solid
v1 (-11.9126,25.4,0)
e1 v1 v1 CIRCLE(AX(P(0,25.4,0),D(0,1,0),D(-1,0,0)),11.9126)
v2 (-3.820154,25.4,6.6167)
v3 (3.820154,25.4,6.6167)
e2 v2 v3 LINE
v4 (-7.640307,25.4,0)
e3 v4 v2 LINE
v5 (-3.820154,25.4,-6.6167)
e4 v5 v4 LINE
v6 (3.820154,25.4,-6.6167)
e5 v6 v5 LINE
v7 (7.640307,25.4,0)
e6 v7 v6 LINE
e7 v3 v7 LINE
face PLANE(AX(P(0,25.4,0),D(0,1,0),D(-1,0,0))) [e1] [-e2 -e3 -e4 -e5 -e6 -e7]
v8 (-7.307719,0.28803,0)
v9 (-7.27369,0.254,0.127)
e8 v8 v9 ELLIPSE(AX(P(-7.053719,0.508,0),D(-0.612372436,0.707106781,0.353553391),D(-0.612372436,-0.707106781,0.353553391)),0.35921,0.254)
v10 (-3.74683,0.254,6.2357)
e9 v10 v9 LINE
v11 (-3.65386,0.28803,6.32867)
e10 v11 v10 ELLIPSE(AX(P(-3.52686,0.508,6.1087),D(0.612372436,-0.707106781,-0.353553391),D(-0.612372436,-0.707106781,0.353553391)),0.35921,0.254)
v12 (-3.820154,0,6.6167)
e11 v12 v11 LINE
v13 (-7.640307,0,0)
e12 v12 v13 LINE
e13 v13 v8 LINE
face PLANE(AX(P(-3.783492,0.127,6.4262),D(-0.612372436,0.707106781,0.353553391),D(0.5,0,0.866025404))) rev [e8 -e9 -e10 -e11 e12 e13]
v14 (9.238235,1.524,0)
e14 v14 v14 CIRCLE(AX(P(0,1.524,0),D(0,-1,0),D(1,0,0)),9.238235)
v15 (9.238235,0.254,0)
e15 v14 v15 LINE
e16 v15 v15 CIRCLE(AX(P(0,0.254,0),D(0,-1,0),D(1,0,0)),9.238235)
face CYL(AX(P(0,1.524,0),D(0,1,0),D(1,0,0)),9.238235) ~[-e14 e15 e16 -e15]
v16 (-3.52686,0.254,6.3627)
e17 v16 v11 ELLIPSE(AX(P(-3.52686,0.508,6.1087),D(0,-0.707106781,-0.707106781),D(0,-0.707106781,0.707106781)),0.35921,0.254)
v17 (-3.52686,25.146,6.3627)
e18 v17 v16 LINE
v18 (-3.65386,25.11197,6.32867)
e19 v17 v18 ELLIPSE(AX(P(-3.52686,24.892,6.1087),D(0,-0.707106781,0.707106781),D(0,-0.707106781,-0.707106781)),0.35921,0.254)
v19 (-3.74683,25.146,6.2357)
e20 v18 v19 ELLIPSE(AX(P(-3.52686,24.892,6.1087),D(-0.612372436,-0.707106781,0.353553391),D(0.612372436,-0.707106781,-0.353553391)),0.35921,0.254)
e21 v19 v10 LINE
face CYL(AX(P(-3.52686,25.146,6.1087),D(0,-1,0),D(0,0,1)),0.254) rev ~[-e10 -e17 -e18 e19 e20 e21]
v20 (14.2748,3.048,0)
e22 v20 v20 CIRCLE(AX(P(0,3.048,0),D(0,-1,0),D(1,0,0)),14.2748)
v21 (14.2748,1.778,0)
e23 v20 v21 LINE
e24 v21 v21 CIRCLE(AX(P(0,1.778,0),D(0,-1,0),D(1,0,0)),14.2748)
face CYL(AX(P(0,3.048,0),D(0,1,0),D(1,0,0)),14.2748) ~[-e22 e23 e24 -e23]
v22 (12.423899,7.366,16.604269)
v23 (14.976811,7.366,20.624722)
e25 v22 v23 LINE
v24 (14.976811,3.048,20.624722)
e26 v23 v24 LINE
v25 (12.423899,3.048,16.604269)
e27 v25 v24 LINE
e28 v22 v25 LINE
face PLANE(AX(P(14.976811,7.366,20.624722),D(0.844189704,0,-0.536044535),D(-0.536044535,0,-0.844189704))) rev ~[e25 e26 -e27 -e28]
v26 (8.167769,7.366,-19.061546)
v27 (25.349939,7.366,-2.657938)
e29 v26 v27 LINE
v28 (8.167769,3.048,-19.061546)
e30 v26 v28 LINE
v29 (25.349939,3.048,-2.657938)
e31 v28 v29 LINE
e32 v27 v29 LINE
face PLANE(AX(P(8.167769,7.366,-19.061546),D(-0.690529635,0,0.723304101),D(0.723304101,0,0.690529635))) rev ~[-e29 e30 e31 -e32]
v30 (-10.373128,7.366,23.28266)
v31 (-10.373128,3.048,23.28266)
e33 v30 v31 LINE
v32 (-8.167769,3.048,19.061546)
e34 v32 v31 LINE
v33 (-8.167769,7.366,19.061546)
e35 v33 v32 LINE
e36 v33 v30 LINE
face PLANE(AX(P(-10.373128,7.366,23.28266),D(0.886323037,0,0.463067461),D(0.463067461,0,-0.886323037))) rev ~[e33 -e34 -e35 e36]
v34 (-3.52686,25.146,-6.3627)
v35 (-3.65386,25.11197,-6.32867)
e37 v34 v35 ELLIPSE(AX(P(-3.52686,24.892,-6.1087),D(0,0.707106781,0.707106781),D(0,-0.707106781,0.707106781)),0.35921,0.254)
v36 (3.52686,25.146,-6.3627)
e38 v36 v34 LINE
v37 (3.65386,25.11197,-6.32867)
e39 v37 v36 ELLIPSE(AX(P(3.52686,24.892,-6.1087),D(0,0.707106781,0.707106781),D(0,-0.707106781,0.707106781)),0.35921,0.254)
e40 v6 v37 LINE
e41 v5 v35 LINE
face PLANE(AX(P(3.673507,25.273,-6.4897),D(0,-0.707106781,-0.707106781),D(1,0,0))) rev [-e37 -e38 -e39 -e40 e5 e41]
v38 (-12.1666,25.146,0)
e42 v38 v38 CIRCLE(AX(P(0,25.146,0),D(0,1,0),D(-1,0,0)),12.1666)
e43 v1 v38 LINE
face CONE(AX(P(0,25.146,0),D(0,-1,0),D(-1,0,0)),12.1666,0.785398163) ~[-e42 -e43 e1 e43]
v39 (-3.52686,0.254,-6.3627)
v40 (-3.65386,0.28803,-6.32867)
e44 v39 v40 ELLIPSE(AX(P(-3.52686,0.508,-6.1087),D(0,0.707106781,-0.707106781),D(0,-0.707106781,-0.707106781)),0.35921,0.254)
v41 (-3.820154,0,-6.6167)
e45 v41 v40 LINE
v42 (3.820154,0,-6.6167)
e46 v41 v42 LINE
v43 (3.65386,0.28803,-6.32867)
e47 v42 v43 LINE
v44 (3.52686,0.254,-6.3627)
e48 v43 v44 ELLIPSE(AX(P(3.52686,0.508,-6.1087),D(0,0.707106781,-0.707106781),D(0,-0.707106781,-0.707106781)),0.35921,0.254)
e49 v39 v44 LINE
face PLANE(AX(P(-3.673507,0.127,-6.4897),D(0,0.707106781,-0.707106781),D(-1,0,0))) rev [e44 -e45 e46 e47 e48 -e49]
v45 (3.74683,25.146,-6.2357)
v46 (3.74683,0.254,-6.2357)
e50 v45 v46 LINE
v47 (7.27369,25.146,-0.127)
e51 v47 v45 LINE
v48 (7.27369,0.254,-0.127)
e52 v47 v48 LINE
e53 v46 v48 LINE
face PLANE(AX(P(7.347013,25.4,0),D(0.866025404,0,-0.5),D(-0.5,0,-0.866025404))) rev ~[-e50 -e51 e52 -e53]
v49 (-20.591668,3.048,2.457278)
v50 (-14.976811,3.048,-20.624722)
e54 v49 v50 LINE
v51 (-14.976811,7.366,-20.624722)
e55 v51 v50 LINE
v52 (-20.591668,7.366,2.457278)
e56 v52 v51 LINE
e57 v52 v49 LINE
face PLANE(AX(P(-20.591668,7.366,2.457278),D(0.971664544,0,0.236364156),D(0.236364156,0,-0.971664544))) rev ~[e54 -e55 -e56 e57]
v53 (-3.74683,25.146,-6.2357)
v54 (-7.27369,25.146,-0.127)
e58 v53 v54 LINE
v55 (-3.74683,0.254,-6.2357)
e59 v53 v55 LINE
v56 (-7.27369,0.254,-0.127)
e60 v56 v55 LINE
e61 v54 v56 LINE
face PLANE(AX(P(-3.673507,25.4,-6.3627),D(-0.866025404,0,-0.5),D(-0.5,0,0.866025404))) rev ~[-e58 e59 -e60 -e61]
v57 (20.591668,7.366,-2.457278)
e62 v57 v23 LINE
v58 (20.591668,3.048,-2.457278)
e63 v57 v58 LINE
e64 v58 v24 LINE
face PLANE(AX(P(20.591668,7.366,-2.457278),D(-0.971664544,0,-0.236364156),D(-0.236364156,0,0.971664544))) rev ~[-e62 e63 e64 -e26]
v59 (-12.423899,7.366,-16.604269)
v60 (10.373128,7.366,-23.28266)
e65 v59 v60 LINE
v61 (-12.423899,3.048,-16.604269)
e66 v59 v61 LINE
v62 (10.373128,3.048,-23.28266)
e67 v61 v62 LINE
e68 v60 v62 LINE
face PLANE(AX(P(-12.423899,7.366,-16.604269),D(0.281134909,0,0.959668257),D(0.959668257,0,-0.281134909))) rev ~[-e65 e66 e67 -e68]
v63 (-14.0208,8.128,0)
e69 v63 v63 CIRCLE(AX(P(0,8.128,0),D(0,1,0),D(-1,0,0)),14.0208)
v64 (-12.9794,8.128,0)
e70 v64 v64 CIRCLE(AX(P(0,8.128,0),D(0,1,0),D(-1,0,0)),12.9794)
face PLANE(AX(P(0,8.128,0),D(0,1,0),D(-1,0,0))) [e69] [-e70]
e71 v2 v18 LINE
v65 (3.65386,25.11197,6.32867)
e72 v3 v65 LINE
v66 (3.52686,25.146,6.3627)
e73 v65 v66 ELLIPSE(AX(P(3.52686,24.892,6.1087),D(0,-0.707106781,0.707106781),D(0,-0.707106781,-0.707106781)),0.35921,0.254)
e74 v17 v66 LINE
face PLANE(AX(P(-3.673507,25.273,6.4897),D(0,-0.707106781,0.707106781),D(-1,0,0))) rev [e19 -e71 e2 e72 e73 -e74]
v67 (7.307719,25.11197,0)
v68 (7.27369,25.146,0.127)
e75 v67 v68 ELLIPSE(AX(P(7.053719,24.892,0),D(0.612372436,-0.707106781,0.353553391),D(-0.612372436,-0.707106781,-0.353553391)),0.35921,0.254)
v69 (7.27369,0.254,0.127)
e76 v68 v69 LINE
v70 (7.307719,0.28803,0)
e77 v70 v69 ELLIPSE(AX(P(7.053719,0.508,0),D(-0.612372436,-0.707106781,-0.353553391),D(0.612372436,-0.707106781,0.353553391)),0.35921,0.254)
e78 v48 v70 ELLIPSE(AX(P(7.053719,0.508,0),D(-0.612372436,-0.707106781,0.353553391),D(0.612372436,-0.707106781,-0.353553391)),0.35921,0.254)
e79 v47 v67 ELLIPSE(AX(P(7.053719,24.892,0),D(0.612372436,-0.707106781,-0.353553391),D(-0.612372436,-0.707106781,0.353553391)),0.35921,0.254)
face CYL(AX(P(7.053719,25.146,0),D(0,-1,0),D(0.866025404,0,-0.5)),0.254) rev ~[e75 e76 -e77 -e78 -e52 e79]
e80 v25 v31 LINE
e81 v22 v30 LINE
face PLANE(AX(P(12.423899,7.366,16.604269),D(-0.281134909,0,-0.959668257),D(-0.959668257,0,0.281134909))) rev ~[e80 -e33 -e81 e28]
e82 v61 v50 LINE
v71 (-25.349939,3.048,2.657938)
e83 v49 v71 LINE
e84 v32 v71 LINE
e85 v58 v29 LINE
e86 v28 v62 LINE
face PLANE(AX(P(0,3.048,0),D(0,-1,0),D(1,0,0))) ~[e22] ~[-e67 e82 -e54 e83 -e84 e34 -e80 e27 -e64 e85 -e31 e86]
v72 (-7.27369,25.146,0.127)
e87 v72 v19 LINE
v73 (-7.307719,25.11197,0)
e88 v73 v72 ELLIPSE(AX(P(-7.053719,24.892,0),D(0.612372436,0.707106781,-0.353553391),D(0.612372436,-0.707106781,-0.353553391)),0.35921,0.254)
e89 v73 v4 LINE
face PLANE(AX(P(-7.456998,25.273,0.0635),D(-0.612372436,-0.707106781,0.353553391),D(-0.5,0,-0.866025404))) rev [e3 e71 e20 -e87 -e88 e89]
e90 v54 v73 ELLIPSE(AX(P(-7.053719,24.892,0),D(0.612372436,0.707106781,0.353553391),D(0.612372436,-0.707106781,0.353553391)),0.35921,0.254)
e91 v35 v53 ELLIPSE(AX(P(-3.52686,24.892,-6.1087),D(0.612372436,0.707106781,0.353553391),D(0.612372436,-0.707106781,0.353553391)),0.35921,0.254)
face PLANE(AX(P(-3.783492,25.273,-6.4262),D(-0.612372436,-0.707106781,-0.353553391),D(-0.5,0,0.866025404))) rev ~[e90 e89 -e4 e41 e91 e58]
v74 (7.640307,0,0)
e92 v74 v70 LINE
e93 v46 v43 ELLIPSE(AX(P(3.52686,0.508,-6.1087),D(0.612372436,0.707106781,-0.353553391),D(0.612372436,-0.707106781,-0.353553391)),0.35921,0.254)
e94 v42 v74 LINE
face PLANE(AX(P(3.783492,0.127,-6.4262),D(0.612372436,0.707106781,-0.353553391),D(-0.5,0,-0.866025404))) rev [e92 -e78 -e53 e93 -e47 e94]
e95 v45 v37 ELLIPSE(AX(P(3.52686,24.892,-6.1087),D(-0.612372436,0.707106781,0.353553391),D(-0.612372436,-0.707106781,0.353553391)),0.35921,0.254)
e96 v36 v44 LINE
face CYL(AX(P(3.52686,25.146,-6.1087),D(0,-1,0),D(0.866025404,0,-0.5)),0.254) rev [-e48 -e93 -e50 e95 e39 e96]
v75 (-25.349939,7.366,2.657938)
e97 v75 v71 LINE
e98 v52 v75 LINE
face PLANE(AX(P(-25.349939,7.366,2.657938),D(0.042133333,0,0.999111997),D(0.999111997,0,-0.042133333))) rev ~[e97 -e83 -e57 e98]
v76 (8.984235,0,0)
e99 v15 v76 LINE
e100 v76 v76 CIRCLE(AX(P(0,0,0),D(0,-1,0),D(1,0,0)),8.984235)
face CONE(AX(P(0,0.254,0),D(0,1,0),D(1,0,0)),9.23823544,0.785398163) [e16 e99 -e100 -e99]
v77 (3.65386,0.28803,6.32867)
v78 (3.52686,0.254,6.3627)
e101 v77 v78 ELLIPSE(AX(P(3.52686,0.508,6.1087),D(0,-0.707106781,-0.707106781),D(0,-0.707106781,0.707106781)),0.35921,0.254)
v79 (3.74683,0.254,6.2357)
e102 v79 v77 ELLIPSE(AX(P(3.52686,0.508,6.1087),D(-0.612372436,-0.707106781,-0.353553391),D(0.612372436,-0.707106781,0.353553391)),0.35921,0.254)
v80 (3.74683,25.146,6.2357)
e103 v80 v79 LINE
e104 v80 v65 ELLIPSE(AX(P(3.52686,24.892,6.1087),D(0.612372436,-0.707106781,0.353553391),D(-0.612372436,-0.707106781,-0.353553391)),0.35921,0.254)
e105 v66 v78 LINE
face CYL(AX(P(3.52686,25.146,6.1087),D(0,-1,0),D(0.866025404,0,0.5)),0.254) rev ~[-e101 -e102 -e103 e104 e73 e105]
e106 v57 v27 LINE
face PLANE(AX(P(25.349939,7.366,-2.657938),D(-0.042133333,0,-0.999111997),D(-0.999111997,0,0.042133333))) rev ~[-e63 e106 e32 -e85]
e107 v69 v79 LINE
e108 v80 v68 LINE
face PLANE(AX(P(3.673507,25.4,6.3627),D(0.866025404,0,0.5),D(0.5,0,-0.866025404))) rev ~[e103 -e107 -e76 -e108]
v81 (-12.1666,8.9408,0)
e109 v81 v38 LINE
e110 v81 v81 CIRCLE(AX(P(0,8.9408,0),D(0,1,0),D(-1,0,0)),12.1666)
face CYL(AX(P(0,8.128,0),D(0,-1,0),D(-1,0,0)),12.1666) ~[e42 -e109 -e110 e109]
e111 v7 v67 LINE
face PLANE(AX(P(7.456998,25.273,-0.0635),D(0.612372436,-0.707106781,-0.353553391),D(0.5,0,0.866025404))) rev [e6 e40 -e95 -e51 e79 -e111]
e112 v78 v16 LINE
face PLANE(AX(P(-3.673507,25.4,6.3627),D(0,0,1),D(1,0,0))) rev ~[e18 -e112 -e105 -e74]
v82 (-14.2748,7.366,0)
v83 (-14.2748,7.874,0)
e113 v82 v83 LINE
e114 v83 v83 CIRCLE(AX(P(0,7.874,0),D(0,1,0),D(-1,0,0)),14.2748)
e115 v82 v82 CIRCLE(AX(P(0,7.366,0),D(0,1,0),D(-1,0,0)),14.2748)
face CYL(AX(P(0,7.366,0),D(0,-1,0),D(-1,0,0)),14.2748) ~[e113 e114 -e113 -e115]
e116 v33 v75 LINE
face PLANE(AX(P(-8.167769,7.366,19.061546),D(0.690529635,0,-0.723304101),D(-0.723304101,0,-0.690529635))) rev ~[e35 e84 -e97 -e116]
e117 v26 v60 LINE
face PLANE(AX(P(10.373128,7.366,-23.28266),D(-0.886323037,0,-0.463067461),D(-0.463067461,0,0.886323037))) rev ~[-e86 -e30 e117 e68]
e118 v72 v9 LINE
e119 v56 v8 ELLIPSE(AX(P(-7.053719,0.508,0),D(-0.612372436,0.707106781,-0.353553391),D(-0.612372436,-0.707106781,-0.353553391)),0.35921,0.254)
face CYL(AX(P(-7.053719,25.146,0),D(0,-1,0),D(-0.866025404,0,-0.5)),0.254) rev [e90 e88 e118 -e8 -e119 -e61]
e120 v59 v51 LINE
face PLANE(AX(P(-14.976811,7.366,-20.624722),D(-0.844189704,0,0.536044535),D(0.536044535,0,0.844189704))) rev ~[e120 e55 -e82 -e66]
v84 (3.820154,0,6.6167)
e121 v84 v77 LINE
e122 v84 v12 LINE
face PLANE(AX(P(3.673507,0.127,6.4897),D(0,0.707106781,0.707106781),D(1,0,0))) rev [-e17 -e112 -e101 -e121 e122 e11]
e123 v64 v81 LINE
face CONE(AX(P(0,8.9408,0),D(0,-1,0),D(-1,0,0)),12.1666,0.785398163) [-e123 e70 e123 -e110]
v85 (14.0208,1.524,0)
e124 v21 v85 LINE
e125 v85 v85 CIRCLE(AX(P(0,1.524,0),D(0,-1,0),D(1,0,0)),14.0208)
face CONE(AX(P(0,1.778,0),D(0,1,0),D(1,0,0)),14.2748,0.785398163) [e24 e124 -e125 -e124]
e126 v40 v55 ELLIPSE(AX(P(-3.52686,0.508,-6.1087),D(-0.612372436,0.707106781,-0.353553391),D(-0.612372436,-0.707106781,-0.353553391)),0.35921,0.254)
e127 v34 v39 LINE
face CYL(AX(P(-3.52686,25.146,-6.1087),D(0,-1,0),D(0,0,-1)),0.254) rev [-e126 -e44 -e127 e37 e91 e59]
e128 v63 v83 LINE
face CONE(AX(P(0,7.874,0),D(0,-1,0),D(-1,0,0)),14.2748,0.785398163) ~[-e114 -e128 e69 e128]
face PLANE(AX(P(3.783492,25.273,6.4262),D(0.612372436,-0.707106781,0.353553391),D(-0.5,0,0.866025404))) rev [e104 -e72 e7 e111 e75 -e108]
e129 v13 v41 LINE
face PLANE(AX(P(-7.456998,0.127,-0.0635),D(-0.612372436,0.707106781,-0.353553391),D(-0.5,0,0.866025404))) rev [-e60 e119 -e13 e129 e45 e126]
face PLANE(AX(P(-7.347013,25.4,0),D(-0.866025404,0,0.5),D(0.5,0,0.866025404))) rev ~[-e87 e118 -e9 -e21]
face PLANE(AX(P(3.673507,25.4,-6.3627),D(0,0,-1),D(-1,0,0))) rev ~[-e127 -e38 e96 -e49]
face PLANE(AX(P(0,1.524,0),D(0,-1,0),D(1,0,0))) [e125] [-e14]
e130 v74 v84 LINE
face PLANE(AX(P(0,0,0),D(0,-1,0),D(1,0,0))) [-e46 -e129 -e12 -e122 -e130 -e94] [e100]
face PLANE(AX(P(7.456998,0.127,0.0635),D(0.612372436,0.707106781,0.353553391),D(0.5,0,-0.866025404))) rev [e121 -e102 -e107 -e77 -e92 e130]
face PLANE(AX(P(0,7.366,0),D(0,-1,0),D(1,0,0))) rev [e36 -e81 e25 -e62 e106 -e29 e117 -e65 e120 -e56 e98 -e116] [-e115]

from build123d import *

# Parameters (mm, degrees)
SKETCH1_W           = 27.7876
SKETCH1_H           = 4.318
CUT_EXTRUDE1_DEPTH  = 5.318
CUT_EXTRUDE2_DEPTH  = 5.318
CUT_EXTRUDE3_DEPTH  = 5.318
CUT_EXTRUDE4_DEPTH  = 5.318
CUT_EXTRUDE5_DEPTH  = 5.318
CUT_EXTRUDE6_DEPTH  = 5.318
CUT_EXTRUDE7_DEPTH  = 5.318
CUT_EXTRUDE8_DEPTH  = 5.318
CUT_EXTRUDE9_DEPTH  = 5.318
CUT_EXTRUDE10_DEPTH = 5.318
CUT_EXTRUDE11_DEPTH = 5.318
CUT_EXTRUDE12_DEPTH = 5.318
SKETCH14_R          = 14.2748
BOSS_EXTRUDE1_DEPTH = 1.524
SKETCH15_R          = 9.23823544
BOSS_EXTRUDE2_DEPTH = 1.524
SKETCH16_R          = 14.2748
BOSS_EXTRUDE3_DEPTH = 0.762
SKETCH17_R          = 12.1666
BOSS_EXTRUDE4_DEPTH = 17.272
CUT_EXTRUDE13_DEPTH = 26.4
SKETCH19_W          = 2.5908
SKETCH19_H          = 4.318
SKETCH20_W          = 2.5908
SKETCH20_H          = 4.318
SKETCH21_W          = 2.5908
SKETCH21_H          = 4.318
SKETCH22_W          = 2.5908
SKETCH22_H          = 4.318
SKETCH23_W          = 2.5908
SKETCH23_H          = 4.318
SKETCH24_W          = 2.5908
SKETCH24_H          = 4.318
CHAMFER1_SIZE       = 0.254
CHAMFER2_SIZE       = 0.8128
FILLET1_R           = 0.254
FILLET2_R           = 0.7874
FILLET3_R           = 1.27
SKETCH25_R          = 28.050561638
SKETCH25_R_2        = 25.4889
CUT_EXTRUDE14_DEPTH = 8.366
CUT_EXTRUDE15_DEPTH = 8.366


with BuildPart() as part:
    # Sketch1 → Revolve1 (revolve)
    with BuildSketch(Plane.XY):
        with Locations((13.8938, 5.207)):
            Rectangle(SKETCH1_W, SKETCH1_H)
    revolve(axis=Axis((0, 7.366, 0), (0, -1, 0)))

    # Sketch2 → Cut-Extrude1 (cut, through all)
    with BuildSketch(Plane(origin=(0, 7.366, 0), x_dir=(-1, 0, 0), z_dir=(0, 1, 0))):
        with BuildLine():
            Line((27.742216161, 1.5875), (25.859959008, 1.5875))
            ThreePointArc((25.859959008, 1.5875), (26.4033, 0), (25.859959008, -1.5875))
            Line((25.859959008, -1.5875), (27.742216161, -1.5875))
            ThreePointArc((27.742216161, -1.5875), (27.7876, 0), (27.742216161, 1.5875))
        make_face()
    extrude(amount=-CUT_EXTRUDE1_DEPTH, mode=Mode.SUBTRACT)

    # Sketch3 → Cut-Extrude2 (cut, through all)
    with BuildSketch(Plane(origin=(0, 7.366, 0), x_dir=(-1, 0, 0), z_dir=(0, 1, 0))):
        with BuildLine():
            ThreePointArc((27.521980347, -3.832924674), (26.332306318, -4.701290474), (24.95050128, -5.211190755))
            ThreePointArc((24.95050128, -5.211190755), (22.074034915, -12.74445), (16.988274218, -19.002172568))
            ThreePointArc((16.988274218, -19.002172568), (17.23759014, -20.453800974), (17.080400312, -21.918271806))
            ThreePointArc((17.080400312, -21.918271806), (24.06476751, -13.8938), (27.521980347, -3.832924674))
        make_face()
    extrude(amount=-CUT_EXTRUDE2_DEPTH, mode=Mode.SUBTRACT)

    # Sketch4 → Cut-Extrude3 (cut, through all)
    with BuildSketch(Plane(origin=(0, 7.366, 0), x_dir=(-1, 0, 0), z_dir=(0, 1, 0))):
        with BuildLine():
            Line((15.245923409, -23.231713952), (14.304794833, -21.601631442))
            ThreePointArc((14.304794833, -21.601631442), (13.20165, -22.865928544), (11.555164176, -23.189131442))
            Line((11.555164176, -23.189131442), (12.496292752, -24.819213952))
            ThreePointArc((12.496292752, -24.819213952), (13.8938, -24.06476751), (15.245923409, -23.231713952))
        make_face()
    extrude(amount=-CUT_EXTRUDE3_DEPTH, mode=Mode.SUBTRACT)

    # Sketch5 → Cut-Extrude4 (cut, through all)
    with BuildSketch(Plane(origin=(0, 7.366, 0), x_dir=(-1, 0, 0), z_dir=(0, 1, 0))):
        with BuildLine():
            ThreePointArc((10.441580035, -25.75119648), (9.094716178, -25.155091448), (7.962227062, -24.213363323))
            ThreePointArc((7.962227062, -24.213363323), (0, -25.4889), (-7.962227062, -24.213363323))
            ThreePointArc((-7.962227062, -24.213363323), (-9.094716178, -25.155091448), (-10.441580035, -25.75119648))
            ThreePointArc((-10.441580035, -25.75119648), (0, -27.7876), (10.441580035, -25.75119648))
        make_face()
    extrude(amount=-CUT_EXTRUDE4_DEPTH, mode=Mode.SUBTRACT)

    # Sketch6 → Cut-Extrude5 (cut, through all)
    with BuildSketch(Plane(origin=(0, 7.366, 0), x_dir=(-1, 0, 0), z_dir=(0, 1, 0))):
        with BuildLine():
            Line((-12.496292752, -24.819213952), (-11.555164176, -23.189131442))
            ThreePointArc((-11.555164176, -23.189131442), (-13.20165, -22.865928544), (-14.304794833, -21.601631442))
            Line((-14.304794833, -21.601631442), (-15.245923409, -23.231713952))
            ThreePointArc((-15.245923409, -23.231713952), (-13.8938, -24.06476751), (-12.496292752, -24.819213952))
        make_face()
    extrude(amount=-CUT_EXTRUDE5_DEPTH, mode=Mode.SUBTRACT)

    # Sketch7 → Cut-Extrude6 (cut, through all)
    with BuildSketch(Plane(origin=(0, 7.366, 0), x_dir=(-1, 0, 0), z_dir=(0, 1, 0))):
        with BuildLine():
            ThreePointArc((-17.080400312, -21.918271806), (-17.23759014, -20.453800974), (-16.988274218, -19.002172568))
            ThreePointArc((-16.988274218, -19.002172568), (-22.074034915, -12.74445), (-24.95050128, -5.211190755))
            ThreePointArc((-24.95050128, -5.211190755), (-26.332306318, -4.701290474), (-27.521980347, -3.832924674))
            ThreePointArc((-27.521980347, -3.832924674), (-24.06476751, -13.8938), (-17.080400312, -21.918271806))
        make_face()
    extrude(amount=-CUT_EXTRUDE6_DEPTH, mode=Mode.SUBTRACT)

    # Sketch8 → Cut-Extrude7 (cut, through all)
    with BuildSketch(Plane(origin=(0, 7.366, 0), x_dir=(-1, 0, 0), z_dir=(0, 1, 0))):
        with BuildLine():
            Line((-27.742216161, -1.5875), (-25.859959008, -1.5875))
            ThreePointArc((-25.859959008, -1.5875), (-26.4033, 0), (-25.859959008, 1.5875))
            Line((-25.859959008, 1.5875), (-27.742216161, 1.5875))
            ThreePointArc((-27.742216161, 1.5875), (-27.7876, 0), (-27.742216161, -1.5875))
        make_face()
    extrude(amount=-CUT_EXTRUDE7_DEPTH, mode=Mode.SUBTRACT)

    # Sketch9 → Cut-Extrude8 (cut, through all)
    with BuildSketch(Plane(origin=(0, 7.366, 0), x_dir=(-1, 0, 0), z_dir=(0, 1, 0))):
        with BuildLine():
            ThreePointArc((-27.521980347, 3.832924674), (-26.332306318, 4.701290474), (-24.95050128, 5.211190755))
            ThreePointArc((-24.95050128, 5.211190755), (-22.074034915, 12.74445), (-16.988274218, 19.002172568))
            ThreePointArc((-16.988274218, 19.002172568), (-17.23759014, 20.453800974), (-17.080400312, 21.918271806))
            ThreePointArc((-17.080400312, 21.918271806), (-24.06476751, 13.8938), (-27.521980347, 3.832924674))
        make_face()
    extrude(amount=-CUT_EXTRUDE8_DEPTH, mode=Mode.SUBTRACT)

    # Sketch10 → Cut-Extrude9 (cut, through all)
    with BuildSketch(Plane(origin=(0, 7.366, 0), x_dir=(-1, 0, 0), z_dir=(0, 1, 0))):
        with BuildLine():
            Line((-15.245923409, 23.231713952), (-14.304794833, 21.601631442))
            ThreePointArc((-14.304794833, 21.601631442), (-13.20165, 22.865928544), (-11.555164176, 23.189131442))
            Line((-11.555164176, 23.189131442), (-12.496292752, 24.819213952))
            ThreePointArc((-12.496292752, 24.819213952), (-13.8938, 24.06476751), (-15.245923409, 23.231713952))
        make_face()
    extrude(amount=-CUT_EXTRUDE9_DEPTH, mode=Mode.SUBTRACT)

    # Sketch11 → Cut-Extrude10 (cut, through all)
    with BuildSketch(Plane(origin=(0, 7.366, 0), x_dir=(-1, 0, 0), z_dir=(0, 1, 0))):
        with BuildLine():
            ThreePointArc((-10.441580035, 25.75119648), (-9.094716178, 25.155091448), (-7.962227062, 24.213363323))
            ThreePointArc((-7.962227062, 24.213363323), (0, 25.4889), (7.962227062, 24.213363323))
            ThreePointArc((7.962227062, 24.213363323), (9.094716178, 25.155091448), (10.441580035, 25.75119648))
            ThreePointArc((10.441580035, 25.75119648), (0, 27.7876), (-10.441580035, 25.75119648))
        make_face()
    extrude(amount=-CUT_EXTRUDE10_DEPTH, mode=Mode.SUBTRACT)

    # Sketch12 → Cut-Extrude11 (cut, through all)
    with BuildSketch(Plane(origin=(0, 7.366, 0), x_dir=(-1, 0, 0), z_dir=(0, 1, 0))):
        with BuildLine():
            Line((12.496292752, 24.819213952), (11.555164176, 23.189131442))
            ThreePointArc((11.555164176, 23.189131442), (13.20165, 22.865928544), (14.304794833, 21.601631442))
            Line((14.304794833, 21.601631442), (15.245923409, 23.231713952))
            ThreePointArc((15.245923409, 23.231713952), (13.8938, 24.06476751), (12.496292752, 24.819213952))
        make_face()
    extrude(amount=-CUT_EXTRUDE11_DEPTH, mode=Mode.SUBTRACT)

    # Sketch13 → Cut-Extrude12 (cut, through all)
    with BuildSketch(Plane(origin=(0, 7.366, 0), x_dir=(-1, 0, 0), z_dir=(0, 1, 0))):
        with BuildLine():
            ThreePointArc((17.080400312, 21.918271806), (17.23759014, 20.453800974), (16.988274218, 19.002172568))
            ThreePointArc((16.988274218, 19.002172568), (22.074034915, 12.74445), (24.95050128, 5.211190755))
            ThreePointArc((24.95050128, 5.211190755), (26.332306318, 4.701290474), (27.521980347, 3.832924674))
            ThreePointArc((27.521980347, 3.832924674), (24.06476751, 13.8938), (17.080400312, 21.918271806))
        make_face()
    extrude(amount=-CUT_EXTRUDE12_DEPTH, mode=Mode.SUBTRACT)

    # Sketch14 → Boss-Extrude1 (add)
    with BuildSketch(Plane.XZ.offset(-3.048)):
        Circle(SKETCH14_R)
    extrude(amount=BOSS_EXTRUDE1_DEPTH)

    # Sketch15 → Boss-Extrude2 (add)
    with BuildSketch(Plane.XZ.offset(-1.524)):
        Circle(SKETCH15_R)
    extrude(amount=BOSS_EXTRUDE2_DEPTH)

    # Sketch16 → Boss-Extrude3 (add)
    with BuildSketch(Plane(origin=(0, 7.366, 0), x_dir=(-1, 0, 0), z_dir=(0, 1, 0))):
        Circle(SKETCH16_R)
    extrude(amount=BOSS_EXTRUDE3_DEPTH)

    # Sketch17 → Boss-Extrude4 (add)
    with BuildSketch(Plane(origin=(0, 8.128, 0), x_dir=(-1, 0, 0), z_dir=(0, 1, 0))):
        Circle(SKETCH17_R)
    extrude(amount=BOSS_EXTRUDE4_DEPTH)

    # Sketch18 → Cut-Extrude13 (cut, through all)
    with BuildSketch(Plane(origin=(0, 25.4, 0), x_dir=(-1, 0, 0), z_dir=(0, 1, 0))):
        Polygon((-3.673506558, -6.3627), (3.673506558, -6.3627), (7.347013116, 0), (3.673506558, 6.3627), (-3.673506558, 6.3627), (-7.347013116, 0), align=None)
    extrude(amount=-CUT_EXTRUDE13_DEPTH, mode=Mode.SUBTRACT)

    # Sketch19 → Cut-Revolve1 (revolve, cut)
    with BuildSketch(Plane(origin=(0, 0, 0), x_dir=(-1, 0, 0), z_dir=(0, 0, -1))):
        with Locations((22.5171, 5.207)):
            Rectangle(SKETCH19_W, SKETCH19_H)
    revolve(axis=Axis((-23.8125, 3.048, 0), (0, 1, 0)), mode=Mode.SUBTRACT)

    # Sketch20 → Cut-Revolve2 (revolve, cut)
    with BuildSketch(Plane(origin=(0, 0, -20.622229928), x_dir=(-1, 0, 0), z_dir=(0, 0, -1))):
        with Locations((10.61085, 5.207)):
            Rectangle(SKETCH20_W, SKETCH20_H)
    revolve(axis=Axis((-11.90625, 3.048, -20.622229928), (0, 1, 0)), mode=Mode.SUBTRACT)

    # Sketch21 → Cut-Revolve3 (revolve, cut)
    with BuildSketch(Plane(origin=(0, 0, -20.622229928), x_dir=(-1, 0, 0), z_dir=(0, 0, -1))):
        with Locations((-13.20165, 5.207)):
            Rectangle(SKETCH21_W, SKETCH21_H)
    revolve(axis=Axis((11.90625, 3.048, -20.622229928), (0, 1, 0)), mode=Mode.SUBTRACT)

    # Sketch22 → Cut-Revolve4 (revolve, cut)
    with BuildSketch(Plane(origin=(0, 0, 0), x_dir=(-1, 0, 0), z_dir=(0, 0, -1))):
        with Locations((-25.1079, 5.207)):
            Rectangle(SKETCH22_W, SKETCH22_H)
    revolve(axis=Axis((23.8125, 3.048, 0), (0, 1, 0)), mode=Mode.SUBTRACT)

    # Sketch23 → Cut-Revolve5 (revolve, cut)
    with BuildSketch(Plane(origin=(0, 0, 20.622229928), x_dir=(-1, 0, 0), z_dir=(0, 0, -1))):
        with Locations((-13.20165, 5.207)):
            Rectangle(SKETCH23_W, SKETCH23_H)
    revolve(axis=Axis((11.90625, 3.048, 20.622229928), (0, 1, 0)), mode=Mode.SUBTRACT)

    # Sketch24 → Cut-Revolve6 (revolve, cut)
    with BuildSketch(Plane(origin=(0, 0, 20.622229928), x_dir=(-1, 0, 0), z_dir=(0, 0, -1))):
        with Locations((10.61085, 5.207)):
            Rectangle(SKETCH24_W, SKETCH24_H)
    revolve(axis=Axis((-11.90625, 3.048, 20.622229928), (0, 1, 0)), mode=Mode.SUBTRACT)

    # Chamfer1
    chamfer1_edges = [part.edges().sort_by_distance(p)[0] for p in [
        (-14.2748, 1.524, 0),
        (-9.23823544, 0, 0),
        (14.2748, 8.128, 0),
        (12.1666, 25.4, 0),
        (5.510259837, 0, -3.18135),
        (5.510259837, 0, 3.18135),
        (0, 0, 6.3627),
        (-5.510259837, 0, 3.18135),
        (-5.510259837, 0, -3.18135),
        (0, 0, -6.3627),
        (5.510259837, 25.4, -3.18135),
        (0, 25.4, -6.3627),
        (-5.510259837, 25.4, -3.18135),
        (-5.510259837, 25.4, 3.18135),
        (0, 25.4, 6.3627),
        (5.510259837, 25.4, 3.18135),
    ]]
    chamfer(chamfer1_edges, length=CHAMFER1_SIZE)

    # Chamfer2
    chamfer2_edges = [part.edges().sort_by_distance(p)[0] for p in [
        (12.1666, 8.128, 0),
    ]]
    chamfer(chamfer2_edges, length=CHAMFER2_SIZE)

    # Fillet1
    fillet1_edges = [part.edges().sort_by_distance(p)[0] for p in [
        (3.673506558, 12.7, -6.3627),
        (7.347013116, 12.7, 0),
        (-3.673506558, 12.7, -6.3627),
        (-7.347013116, 12.7, 0),
        (-3.673506558, 12.7, 6.3627),
        (3.673506558, 12.7, 6.3627),
    ]]
    fillet(fillet1_edges, radius=FILLET1_R)

    # Fillet2
    fillet2_edges = [part.edges().sort_by_distance(p)[0] for p in [
        (27.742216161, 5.207, -1.5875),
        (27.742216161, 5.207, 1.5875),
        (25.859959008, 5.207, 1.5875),
        (25.859959008, 5.207, -1.5875),
        (-27.742216161, 5.207, 1.5875),
        (-27.742216161, 5.207, -1.5875),
        (-25.859959008, 5.207, -1.5875),
        (-25.859959008, 5.207, 1.5875),
        (15.245923409, 5.207, 23.231713952),
        (12.496292752, 5.207, 24.819213952),
        (11.555164176, 5.207, 23.189131442),
        (14.304794833, 5.207, 21.601631442),
        (-12.496292752, 5.207, 24.819213952),
        (-15.245923409, 5.207, 23.231713952),
        (-14.304794833, 5.207, 21.601631442),
        (-11.555164176, 5.207, 23.189131442),
        (-15.245923409, 5.207, -23.231713952),
        (-12.496292752, 5.207, -24.819213952),
        (-11.555164176, 5.207, -23.189131442),
        (-14.304794833, 5.207, -21.601631442),
        (12.496292752, 5.207, -24.819213952),
        (15.245923409, 5.207, -23.231713952),
        (14.304794833, 5.207, -21.601631442),
        (11.555164176, 5.207, -23.189131442),
    ]]
    fillet(fillet2_edges, radius=FILLET2_R)

    # Fillet3
    fillet3_edges = [part.edges().sort_by_distance(p)[0] for p in [
        (27.521980347, 5.207, 3.832924674),
        (17.080400312, 5.207, 21.918271806),
        (16.988274218, 5.207, 19.002172568),
        (24.95050128, 5.207, 5.211190755),
        (10.441580035, 5.207, 25.75119648),
        (-10.441580035, 5.207, 25.75119648),
        (-7.962227062, 5.207, 24.213363323),
        (7.962227062, 5.207, 24.213363323),
        (-17.080400312, 5.207, 21.918271806),
        (-27.521980347, 5.207, 3.832924674),
        (-24.95050128, 5.207, 5.211190755),
        (-16.988274218, 5.207, 19.002172568),
        (-27.521980347, 5.207, -3.832924674),
        (-17.080400312, 5.207, -21.918271806),
        (-16.988274218, 5.207, -19.002172568),
        (-24.95050128, 5.207, -5.211190755),
        (-10.441580035, 5.207, -25.75119648),
        (10.441580035, 5.207, -25.75119648),
        (7.962227062, 5.207, -24.213363323),
        (-7.962227062, 5.207, -24.213363323),
        (17.080400312, 5.207, -21.918271806),
        (27.521980347, 5.207, -3.832924674),
        (24.95050128, 5.207, -5.211190755),
        (16.988274218, 5.207, -19.002172568),
    ]]
    fillet(fillet3_edges, radius=FILLET3_R)

    # Sketch25 → Cut-Extrude14 (cut, through all)
    with BuildSketch(Plane(origin=(0, 7.366, 0), x_dir=(1, 0, 0), z_dir=(0, 1, 0))):
        Circle(SKETCH25_R)
        Circle(SKETCH25_R_2, mode=Mode.SUBTRACT)
    extrude(amount=-CUT_EXTRUDE14_DEPTH, mode=Mode.SUBTRACT)

    # Sketch26 → Cut-Extrude15 (cut, through all)
    with BuildSketch(Plane(origin=(0, 7.366, 0), x_dir=(1, 0, 0), z_dir=(0, 1, 0))):
        with BuildLine():
            Line((-14.976810881, 20.624722035), (-12.423898781, 16.604268571))
            Line((-12.423898781, 16.604268571), (10.373127788, 23.282659708))
            ThreePointArc((10.373127788, 23.282659708), (-2.657937673, 25.349938669), (-14.976810881, 20.624722035))
        make_face()
        with BuildLine():
            Line((-20.591667784, -2.457277673), (-14.976810881, 20.624722035))
            ThreePointArc((-14.976810881, 20.624722035), (-23.282659708, 10.373127788), (-25.349938669, -2.657937673))
            Line((-25.349938669, -2.657937673), (-20.591667784, -2.457277673))
        make_face()
        with BuildLine():
            ThreePointArc((25.349938669, 2.657937673), (20.624722035, 14.976810881), (10.373127788, 23.282659708))
            Line((10.373127788, 23.282659708), (8.167769003, 19.061546244))
            Line((8.167769003, 19.061546244), (25.349938669, 2.657937673))
        make_face()
        with BuildLine():
            Line((-8.167769003, -19.061546244), (-25.349938669, -2.657937673))
            ThreePointArc((-25.349938669, -2.657937673), (-20.624722035, -14.976810881), (-10.373127788, -23.282659708))
            Line((-10.373127788, -23.282659708), (-8.167769003, -19.061546244))
        make_face()
        with BuildLine():
            ThreePointArc((14.976810881, -20.624722035), (23.282659708, -10.373127788), (25.349938669, 2.657937673))
            Line((25.349938669, 2.657937673), (20.591667784, 2.457277673))
            Line((20.591667784, 2.457277673), (14.976810881, -20.624722035))
        make_face()
        with BuildLine():
            Line((12.423898781, -16.604268571), (-10.373127788, -23.282659708))
            ThreePointArc((-10.373127788, -23.282659708), (2.657937673, -25.349938669), (14.976810881, -20.624722035))
            Line((14.976810881, -20.624722035), (12.423898781, -16.604268571))
        make_face()
    extrude(amount=-CUT_EXTRUDE15_DEPTH, mode=Mode.SUBTRACT)


solid = part.part
